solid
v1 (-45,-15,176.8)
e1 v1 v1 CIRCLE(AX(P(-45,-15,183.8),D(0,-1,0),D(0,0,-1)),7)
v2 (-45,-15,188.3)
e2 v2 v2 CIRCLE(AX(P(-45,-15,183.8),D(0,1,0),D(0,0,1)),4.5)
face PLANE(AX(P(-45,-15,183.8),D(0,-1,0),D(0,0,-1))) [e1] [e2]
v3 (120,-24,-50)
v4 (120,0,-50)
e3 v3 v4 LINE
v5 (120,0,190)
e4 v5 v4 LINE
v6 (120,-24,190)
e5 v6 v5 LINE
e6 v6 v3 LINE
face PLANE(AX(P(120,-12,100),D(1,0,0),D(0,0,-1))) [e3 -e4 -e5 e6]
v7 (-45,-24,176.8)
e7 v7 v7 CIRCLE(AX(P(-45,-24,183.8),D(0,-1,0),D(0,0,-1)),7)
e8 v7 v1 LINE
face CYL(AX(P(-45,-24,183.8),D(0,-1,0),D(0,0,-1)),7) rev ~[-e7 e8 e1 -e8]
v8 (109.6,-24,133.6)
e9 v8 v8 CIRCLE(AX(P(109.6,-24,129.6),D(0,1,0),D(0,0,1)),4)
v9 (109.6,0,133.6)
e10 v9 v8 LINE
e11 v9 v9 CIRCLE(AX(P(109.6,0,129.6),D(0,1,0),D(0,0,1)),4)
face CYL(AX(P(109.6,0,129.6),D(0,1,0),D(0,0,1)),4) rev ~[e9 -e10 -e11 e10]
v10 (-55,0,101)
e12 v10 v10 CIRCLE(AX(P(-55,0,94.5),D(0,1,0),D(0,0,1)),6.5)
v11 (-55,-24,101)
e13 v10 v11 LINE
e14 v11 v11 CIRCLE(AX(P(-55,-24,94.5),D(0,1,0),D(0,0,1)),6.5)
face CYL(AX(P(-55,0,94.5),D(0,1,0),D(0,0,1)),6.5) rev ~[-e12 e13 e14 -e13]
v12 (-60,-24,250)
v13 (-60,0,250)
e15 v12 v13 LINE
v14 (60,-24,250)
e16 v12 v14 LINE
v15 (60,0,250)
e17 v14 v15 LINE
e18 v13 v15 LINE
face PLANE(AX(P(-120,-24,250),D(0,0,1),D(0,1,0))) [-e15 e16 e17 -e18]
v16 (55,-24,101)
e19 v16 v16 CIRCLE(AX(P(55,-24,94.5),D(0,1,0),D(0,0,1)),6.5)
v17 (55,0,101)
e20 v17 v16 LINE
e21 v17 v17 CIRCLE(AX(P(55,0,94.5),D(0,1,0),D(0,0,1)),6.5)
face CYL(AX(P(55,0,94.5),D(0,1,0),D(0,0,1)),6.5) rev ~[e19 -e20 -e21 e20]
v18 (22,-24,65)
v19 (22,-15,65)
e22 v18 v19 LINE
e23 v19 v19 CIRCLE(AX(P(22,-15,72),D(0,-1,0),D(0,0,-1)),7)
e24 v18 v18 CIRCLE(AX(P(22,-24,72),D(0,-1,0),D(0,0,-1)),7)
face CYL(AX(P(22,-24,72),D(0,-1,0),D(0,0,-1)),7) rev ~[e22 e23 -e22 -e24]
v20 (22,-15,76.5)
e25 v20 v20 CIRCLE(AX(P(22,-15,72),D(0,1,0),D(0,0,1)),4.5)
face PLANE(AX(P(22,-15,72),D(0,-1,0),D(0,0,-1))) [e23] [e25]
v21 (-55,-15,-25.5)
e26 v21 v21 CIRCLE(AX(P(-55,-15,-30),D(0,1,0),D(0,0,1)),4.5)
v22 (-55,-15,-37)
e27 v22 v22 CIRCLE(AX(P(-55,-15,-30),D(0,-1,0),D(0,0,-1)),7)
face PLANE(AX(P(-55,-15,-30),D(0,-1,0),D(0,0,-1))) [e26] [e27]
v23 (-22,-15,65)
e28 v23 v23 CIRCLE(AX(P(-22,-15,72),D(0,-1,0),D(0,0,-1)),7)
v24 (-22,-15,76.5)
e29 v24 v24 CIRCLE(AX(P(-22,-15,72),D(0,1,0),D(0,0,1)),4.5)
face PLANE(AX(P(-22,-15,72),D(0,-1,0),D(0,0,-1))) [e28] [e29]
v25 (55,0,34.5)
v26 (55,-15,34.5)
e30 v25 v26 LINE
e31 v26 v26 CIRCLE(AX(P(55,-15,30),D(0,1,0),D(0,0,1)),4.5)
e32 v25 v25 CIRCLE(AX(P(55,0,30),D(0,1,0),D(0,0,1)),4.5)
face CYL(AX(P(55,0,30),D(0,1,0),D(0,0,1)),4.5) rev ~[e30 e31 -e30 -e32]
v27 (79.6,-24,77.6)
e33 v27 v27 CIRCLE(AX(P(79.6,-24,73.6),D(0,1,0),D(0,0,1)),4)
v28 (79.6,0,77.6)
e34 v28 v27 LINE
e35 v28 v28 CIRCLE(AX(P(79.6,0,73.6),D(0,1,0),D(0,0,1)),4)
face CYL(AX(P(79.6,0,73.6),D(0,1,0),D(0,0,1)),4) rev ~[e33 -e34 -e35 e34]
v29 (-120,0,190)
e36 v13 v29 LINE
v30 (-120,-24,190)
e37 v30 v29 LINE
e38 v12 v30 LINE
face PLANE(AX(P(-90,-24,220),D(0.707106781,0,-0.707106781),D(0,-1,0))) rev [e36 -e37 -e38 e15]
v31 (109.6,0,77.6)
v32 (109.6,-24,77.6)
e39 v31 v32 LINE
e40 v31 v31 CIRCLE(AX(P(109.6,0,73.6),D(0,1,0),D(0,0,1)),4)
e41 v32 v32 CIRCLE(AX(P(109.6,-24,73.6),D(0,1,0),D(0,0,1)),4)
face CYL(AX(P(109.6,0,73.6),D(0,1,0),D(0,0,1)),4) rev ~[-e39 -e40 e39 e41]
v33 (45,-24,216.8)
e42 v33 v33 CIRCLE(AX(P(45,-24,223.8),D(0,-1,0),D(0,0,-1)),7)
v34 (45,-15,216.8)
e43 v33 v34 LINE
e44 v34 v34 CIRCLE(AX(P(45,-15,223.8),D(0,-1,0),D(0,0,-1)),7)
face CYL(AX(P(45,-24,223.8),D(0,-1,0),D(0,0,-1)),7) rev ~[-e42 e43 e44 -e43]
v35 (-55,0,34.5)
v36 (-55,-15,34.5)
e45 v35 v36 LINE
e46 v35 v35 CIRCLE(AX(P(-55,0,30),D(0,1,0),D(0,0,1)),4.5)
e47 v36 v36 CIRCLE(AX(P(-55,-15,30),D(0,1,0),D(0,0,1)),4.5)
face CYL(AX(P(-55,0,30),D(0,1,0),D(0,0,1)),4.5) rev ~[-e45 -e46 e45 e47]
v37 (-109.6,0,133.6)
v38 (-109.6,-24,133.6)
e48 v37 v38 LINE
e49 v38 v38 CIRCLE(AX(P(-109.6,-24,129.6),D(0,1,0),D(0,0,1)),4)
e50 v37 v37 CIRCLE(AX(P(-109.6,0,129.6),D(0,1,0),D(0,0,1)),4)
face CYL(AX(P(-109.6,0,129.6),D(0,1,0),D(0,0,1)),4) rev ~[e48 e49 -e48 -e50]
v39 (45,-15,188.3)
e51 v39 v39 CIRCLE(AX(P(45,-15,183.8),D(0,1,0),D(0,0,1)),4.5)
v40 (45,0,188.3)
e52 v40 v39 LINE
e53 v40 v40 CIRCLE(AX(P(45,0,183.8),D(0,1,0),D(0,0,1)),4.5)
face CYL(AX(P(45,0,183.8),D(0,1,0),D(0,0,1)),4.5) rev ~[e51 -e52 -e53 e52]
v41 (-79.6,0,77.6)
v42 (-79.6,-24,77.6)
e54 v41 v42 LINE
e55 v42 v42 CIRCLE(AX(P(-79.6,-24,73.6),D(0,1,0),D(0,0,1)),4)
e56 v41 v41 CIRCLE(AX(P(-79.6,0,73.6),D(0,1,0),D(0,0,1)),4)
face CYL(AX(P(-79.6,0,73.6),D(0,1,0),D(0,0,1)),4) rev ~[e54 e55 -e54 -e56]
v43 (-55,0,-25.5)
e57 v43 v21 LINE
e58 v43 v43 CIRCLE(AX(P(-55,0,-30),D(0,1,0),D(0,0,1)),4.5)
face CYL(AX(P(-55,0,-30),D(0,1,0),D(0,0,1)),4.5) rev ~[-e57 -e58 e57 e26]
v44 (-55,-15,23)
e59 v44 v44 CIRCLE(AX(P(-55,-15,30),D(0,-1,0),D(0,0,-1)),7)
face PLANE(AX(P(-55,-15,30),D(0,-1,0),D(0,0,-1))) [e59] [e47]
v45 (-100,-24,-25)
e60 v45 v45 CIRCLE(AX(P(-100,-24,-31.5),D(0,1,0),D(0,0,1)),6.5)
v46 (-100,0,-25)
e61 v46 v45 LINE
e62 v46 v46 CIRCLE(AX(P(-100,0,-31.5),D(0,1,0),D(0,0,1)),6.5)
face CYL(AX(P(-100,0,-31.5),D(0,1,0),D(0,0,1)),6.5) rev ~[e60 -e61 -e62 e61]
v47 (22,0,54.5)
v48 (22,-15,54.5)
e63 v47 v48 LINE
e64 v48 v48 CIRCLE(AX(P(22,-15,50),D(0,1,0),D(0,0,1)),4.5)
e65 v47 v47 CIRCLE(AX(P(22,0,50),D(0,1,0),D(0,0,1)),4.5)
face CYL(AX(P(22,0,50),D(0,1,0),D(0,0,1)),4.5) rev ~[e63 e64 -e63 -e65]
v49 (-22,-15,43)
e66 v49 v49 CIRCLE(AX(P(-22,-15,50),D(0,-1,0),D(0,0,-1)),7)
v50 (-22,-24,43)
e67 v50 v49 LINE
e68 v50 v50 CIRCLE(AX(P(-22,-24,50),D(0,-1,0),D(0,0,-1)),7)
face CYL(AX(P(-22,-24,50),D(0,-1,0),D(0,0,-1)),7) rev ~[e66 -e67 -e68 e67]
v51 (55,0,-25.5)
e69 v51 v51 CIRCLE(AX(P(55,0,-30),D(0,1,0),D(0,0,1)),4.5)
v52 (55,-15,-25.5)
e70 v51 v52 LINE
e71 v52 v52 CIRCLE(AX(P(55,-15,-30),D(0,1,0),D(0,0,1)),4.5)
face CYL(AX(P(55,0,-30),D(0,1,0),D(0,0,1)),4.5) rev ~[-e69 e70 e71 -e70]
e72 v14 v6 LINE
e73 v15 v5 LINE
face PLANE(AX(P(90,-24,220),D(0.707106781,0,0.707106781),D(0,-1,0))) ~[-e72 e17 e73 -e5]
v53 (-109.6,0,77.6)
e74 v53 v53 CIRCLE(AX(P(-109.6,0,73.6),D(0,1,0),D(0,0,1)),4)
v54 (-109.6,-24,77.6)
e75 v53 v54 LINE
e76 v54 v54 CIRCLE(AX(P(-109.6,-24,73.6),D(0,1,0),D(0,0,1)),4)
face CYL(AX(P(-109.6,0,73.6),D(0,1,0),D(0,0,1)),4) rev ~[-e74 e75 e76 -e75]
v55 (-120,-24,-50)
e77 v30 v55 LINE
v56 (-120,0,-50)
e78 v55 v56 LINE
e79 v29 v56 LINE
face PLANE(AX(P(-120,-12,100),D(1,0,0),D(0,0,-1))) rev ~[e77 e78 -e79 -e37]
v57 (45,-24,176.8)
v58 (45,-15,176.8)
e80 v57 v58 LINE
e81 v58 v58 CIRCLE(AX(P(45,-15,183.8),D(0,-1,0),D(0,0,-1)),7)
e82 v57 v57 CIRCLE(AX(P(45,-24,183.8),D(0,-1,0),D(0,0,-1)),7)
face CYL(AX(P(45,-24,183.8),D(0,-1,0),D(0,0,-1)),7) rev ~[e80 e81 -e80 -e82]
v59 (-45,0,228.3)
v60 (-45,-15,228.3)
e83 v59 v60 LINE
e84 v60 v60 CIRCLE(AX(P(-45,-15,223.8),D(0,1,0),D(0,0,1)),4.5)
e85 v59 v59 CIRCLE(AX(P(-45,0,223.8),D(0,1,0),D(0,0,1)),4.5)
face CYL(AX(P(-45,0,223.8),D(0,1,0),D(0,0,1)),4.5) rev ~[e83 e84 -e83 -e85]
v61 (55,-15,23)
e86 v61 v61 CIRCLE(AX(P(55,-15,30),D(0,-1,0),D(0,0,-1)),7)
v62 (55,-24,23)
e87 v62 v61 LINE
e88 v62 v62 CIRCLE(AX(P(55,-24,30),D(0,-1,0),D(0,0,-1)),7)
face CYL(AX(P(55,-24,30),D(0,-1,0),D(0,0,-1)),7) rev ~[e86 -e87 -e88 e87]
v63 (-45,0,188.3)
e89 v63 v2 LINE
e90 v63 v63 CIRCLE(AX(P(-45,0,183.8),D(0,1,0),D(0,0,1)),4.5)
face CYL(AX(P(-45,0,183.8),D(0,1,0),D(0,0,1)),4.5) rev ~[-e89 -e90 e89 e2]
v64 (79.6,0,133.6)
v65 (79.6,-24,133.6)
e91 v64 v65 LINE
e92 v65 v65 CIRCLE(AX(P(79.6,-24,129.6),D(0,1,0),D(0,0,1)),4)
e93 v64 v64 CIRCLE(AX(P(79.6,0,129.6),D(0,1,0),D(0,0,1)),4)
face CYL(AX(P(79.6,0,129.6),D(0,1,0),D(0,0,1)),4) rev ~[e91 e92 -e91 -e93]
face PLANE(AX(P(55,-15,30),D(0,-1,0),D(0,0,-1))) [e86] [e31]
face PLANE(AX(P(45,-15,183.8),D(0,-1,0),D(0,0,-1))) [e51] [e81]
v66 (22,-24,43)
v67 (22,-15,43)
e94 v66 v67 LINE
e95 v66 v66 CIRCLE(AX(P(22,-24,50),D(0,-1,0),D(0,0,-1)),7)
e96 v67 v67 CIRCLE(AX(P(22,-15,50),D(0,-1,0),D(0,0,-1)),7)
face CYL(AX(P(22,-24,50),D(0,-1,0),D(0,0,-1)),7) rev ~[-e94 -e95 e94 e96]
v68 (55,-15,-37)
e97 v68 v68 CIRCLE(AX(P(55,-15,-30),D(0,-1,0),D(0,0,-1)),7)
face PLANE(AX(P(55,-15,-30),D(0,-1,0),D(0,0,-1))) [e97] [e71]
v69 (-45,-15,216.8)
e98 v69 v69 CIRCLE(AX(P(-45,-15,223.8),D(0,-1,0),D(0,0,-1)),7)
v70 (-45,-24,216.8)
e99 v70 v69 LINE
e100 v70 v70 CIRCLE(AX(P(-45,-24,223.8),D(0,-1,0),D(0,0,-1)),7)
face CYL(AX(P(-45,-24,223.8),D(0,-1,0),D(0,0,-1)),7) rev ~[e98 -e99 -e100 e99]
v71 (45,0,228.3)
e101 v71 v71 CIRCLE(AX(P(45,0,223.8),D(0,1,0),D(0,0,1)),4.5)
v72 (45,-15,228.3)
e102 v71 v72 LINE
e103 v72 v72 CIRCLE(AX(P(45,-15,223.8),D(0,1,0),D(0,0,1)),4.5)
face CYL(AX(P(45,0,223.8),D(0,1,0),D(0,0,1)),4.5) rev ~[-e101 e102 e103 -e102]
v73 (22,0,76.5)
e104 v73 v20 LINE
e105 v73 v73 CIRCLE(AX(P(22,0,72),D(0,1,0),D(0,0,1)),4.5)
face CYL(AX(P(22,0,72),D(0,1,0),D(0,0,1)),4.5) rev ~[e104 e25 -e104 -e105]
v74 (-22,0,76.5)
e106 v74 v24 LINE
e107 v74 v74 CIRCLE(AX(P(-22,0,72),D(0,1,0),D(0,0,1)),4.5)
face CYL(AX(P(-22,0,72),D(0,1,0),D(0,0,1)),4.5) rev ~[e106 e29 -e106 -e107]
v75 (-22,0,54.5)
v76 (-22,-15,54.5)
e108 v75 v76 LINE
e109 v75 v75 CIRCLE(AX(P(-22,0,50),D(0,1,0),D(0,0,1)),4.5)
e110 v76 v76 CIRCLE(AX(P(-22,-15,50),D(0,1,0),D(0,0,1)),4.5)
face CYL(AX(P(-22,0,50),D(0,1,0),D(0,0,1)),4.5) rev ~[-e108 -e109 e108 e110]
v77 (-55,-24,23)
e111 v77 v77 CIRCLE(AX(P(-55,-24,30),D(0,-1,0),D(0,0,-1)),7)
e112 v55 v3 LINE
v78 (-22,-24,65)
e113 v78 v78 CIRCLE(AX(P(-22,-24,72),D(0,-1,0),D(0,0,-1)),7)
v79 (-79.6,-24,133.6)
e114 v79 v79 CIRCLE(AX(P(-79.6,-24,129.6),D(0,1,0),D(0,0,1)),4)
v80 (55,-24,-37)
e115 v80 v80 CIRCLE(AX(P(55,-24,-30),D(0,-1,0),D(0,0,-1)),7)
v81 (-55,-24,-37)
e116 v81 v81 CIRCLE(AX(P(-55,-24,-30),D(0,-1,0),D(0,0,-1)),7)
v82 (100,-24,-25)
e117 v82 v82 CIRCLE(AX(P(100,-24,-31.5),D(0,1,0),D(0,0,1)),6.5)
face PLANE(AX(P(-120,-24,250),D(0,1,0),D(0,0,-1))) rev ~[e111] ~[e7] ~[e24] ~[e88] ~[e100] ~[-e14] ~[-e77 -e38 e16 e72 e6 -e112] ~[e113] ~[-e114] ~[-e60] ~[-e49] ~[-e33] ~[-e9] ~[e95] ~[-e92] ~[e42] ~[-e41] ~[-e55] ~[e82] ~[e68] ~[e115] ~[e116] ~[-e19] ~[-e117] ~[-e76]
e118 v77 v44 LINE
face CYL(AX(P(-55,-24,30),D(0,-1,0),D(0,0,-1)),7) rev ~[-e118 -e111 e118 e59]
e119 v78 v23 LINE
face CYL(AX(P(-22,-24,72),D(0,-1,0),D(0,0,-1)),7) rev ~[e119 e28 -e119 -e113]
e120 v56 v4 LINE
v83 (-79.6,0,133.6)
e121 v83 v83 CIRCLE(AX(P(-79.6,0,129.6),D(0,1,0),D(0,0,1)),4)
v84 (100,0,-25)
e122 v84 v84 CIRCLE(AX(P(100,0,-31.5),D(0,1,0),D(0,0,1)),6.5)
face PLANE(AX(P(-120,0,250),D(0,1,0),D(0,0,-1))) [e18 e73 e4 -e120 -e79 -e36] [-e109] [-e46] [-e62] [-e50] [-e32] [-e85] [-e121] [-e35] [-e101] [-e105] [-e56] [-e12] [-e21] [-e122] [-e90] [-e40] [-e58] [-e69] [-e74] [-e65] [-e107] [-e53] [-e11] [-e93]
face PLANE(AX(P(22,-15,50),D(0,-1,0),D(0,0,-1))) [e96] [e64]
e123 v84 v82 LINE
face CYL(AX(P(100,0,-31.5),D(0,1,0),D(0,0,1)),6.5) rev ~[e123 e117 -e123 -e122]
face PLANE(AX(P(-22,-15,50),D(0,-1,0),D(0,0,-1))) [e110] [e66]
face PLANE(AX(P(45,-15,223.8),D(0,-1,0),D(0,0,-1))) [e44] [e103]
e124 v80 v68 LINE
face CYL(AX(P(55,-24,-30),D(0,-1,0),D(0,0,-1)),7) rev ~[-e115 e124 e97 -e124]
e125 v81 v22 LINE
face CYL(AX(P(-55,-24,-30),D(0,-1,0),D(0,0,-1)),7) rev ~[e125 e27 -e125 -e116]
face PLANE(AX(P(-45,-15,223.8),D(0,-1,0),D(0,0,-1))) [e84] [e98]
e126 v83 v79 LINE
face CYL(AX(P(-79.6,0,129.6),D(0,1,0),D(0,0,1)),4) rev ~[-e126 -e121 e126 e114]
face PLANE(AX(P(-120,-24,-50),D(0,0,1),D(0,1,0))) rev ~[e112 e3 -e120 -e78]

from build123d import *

# Parameters (mm, degrees)
SALIENTE_EXTRUIR1_DEPTH      = 120
SALIENTE_EXTRUIR1_DEPTH_BACK = 120
CROQUIS1_W                   = 300
CROQUIS1_H                   = 24
CORTAR_EXTRUIR1_REACH        = 280.345
CROQUIS2_R                   = 4.5
CROQUIS3_R                   = 7
CORTAR_EXTRUIR2_DEPTH        = 9
CHAFL_N1_SIZE                = 60
CORTAR_EXTRUIR3_REACH        = 280.345
CROQUIS4_R                   = 6.5
CORTAR_EXTRUIR4_REACH        = 280.345
CROQUIS5_R                   = 4
CROQUIS6_R                   = 4.5
CORTAR_EXTRUIR5_DEPTH        = 30
CROQUIS7_R                   = 7
CORTAR_EXTRUIR6_DEPTH        = 9
CORTAR_EXTRUIR7_REACH        = 280.345
CROQUIS8_R                   = 4.5
CROQUIS9_R                   = 7
CORTAR_EXTRUIR8_DEPTH        = 9


with BuildPart() as part:
    # Croquis1 → Saliente-Extruir1 (new, two sides: drawn at the far end of the back side and taken through both)
    with BuildSketch(Plane(origin=(0, 0, 0), x_dir=(0, 0, -1), z_dir=(1, 0, 0)).offset(-SALIENTE_EXTRUIR1_DEPTH_BACK)):
        with Locations((-100, -12)):
            Rectangle(CROQUIS1_W, CROQUIS1_H)
    extrude(amount=SALIENTE_EXTRUIR1_DEPTH + SALIENTE_EXTRUIR1_DEPTH_BACK)

    # Croquis2 → Cortar-Extruir1 (cut, up to next)
    with BuildSketch(Plane(origin=(0, 0, 0), x_dir=(1, 0, 0), z_dir=(0, 1, 0)), mode=Mode.PRIVATE) as cortar_extruir1_sk1:
        with Locations((45, -183.8)):
            Circle(CROQUIS2_R)
    cortar_extruir1_tool1 = extrude(cortar_extruir1_sk1.sketch, amount=-CORTAR_EXTRUIR1_REACH, mode=Mode.PRIVATE) & part.part
    # Croquis2 → Cortar-Extruir1 (cut, up to next)
    with BuildSketch(Plane(origin=(0, 0, 0), x_dir=(1, 0, 0), z_dir=(0, 1, 0)), mode=Mode.PRIVATE) as cortar_extruir1_sk2:
        with Locations((45, -223.8)):
            Circle(CROQUIS2_R)
    cortar_extruir1_tool2 = extrude(cortar_extruir1_sk2.sketch, amount=-CORTAR_EXTRUIR1_REACH, mode=Mode.PRIVATE) & part.part
    # Croquis2 → Cortar-Extruir1 (cut, up to next)
    with BuildSketch(Plane(origin=(0, 0, 0), x_dir=(1, 0, 0), z_dir=(0, 1, 0)), mode=Mode.PRIVATE) as cortar_extruir1_sk3:
        with Locations((-45, -183.8)):
            Circle(CROQUIS2_R)
    cortar_extruir1_tool3 = extrude(cortar_extruir1_sk3.sketch, amount=-CORTAR_EXTRUIR1_REACH, mode=Mode.PRIVATE) & part.part
    # Croquis2 → Cortar-Extruir1 (cut, up to next)
    with BuildSketch(Plane(origin=(0, 0, 0), x_dir=(1, 0, 0), z_dir=(0, 1, 0)), mode=Mode.PRIVATE) as cortar_extruir1_sk4:
        with Locations((-45, -223.8)):
            Circle(CROQUIS2_R)
    cortar_extruir1_tool4 = extrude(cortar_extruir1_sk4.sketch, amount=-CORTAR_EXTRUIR1_REACH, mode=Mode.PRIVATE) & part.part
    add(cortar_extruir1_tool1.solids().sort_by_distance((45, 0, 183.8))[0], mode=Mode.SUBTRACT)
    add(cortar_extruir1_tool2.solids().sort_by_distance((45, 0, 223.8))[0], mode=Mode.SUBTRACT)
    add(cortar_extruir1_tool3.solids().sort_by_distance((-45, 0, 183.8))[0], mode=Mode.SUBTRACT)
    add(cortar_extruir1_tool4.solids().sort_by_distance((-45, 0, 223.8))[0], mode=Mode.SUBTRACT)

    # Croquis3 → Cortar-Extruir2 (cut)
    with BuildSketch(Plane.XZ.offset(24)):
        with Locations((-45, 223.8)):
            Circle(CROQUIS3_R)
        with Locations((-45, 183.8)):
            Circle(CROQUIS3_R)
        with Locations((45, 223.8)):
            Circle(CROQUIS3_R)
        with Locations((45, 183.8)):
            Circle(CROQUIS3_R)
    extrude(amount=-CORTAR_EXTRUIR2_DEPTH, mode=Mode.SUBTRACT)

    # Chaflán1
    chafl_n1_edges = [part.edges().sort_by_distance(p)[0] for p in [
        (120, -12, 250),
        (-120, -12, 250),
    ]]
    chamfer(chafl_n1_edges, length=CHAFL_N1_SIZE)

    # Croquis4 → Cortar-Extruir3 (cut, up to next)
    with BuildSketch(Plane(origin=(0, 0, 0), x_dir=(1, 0, 0), z_dir=(0, 1, 0)), mode=Mode.PRIVATE) as cortar_extruir3_sk1:
        with Locations((100, 31.5)):
            Circle(CROQUIS4_R)
    cortar_extruir3_tool1 = extrude(cortar_extruir3_sk1.sketch, amount=-CORTAR_EXTRUIR3_REACH, mode=Mode.PRIVATE) & part.part
    # Croquis4 → Cortar-Extruir3 (cut, up to next)
    with BuildSketch(Plane(origin=(0, 0, 0), x_dir=(1, 0, 0), z_dir=(0, 1, 0)), mode=Mode.PRIVATE) as cortar_extruir3_sk2:
        with Locations((-100, 31.5)):
            Circle(CROQUIS4_R)
    cortar_extruir3_tool2 = extrude(cortar_extruir3_sk2.sketch, amount=-CORTAR_EXTRUIR3_REACH, mode=Mode.PRIVATE) & part.part
    # Croquis4 → Cortar-Extruir3 (cut, up to next)
    with BuildSketch(Plane(origin=(0, 0, 0), x_dir=(1, 0, 0), z_dir=(0, 1, 0)), mode=Mode.PRIVATE) as cortar_extruir3_sk3:
        with Locations((55, -94.5)):
            Circle(CROQUIS4_R)
    cortar_extruir3_tool3 = extrude(cortar_extruir3_sk3.sketch, amount=-CORTAR_EXTRUIR3_REACH, mode=Mode.PRIVATE) & part.part
    # Croquis4 → Cortar-Extruir3 (cut, up to next)
    with BuildSketch(Plane(origin=(0, 0, 0), x_dir=(1, 0, 0), z_dir=(0, 1, 0)), mode=Mode.PRIVATE) as cortar_extruir3_sk4:
        with Locations((-55, -94.5)):
            Circle(CROQUIS4_R)
    cortar_extruir3_tool4 = extrude(cortar_extruir3_sk4.sketch, amount=-CORTAR_EXTRUIR3_REACH, mode=Mode.PRIVATE) & part.part
    add(cortar_extruir3_tool1.solids().sort_by_distance((100, 0, -31.5))[0], mode=Mode.SUBTRACT)
    add(cortar_extruir3_tool2.solids().sort_by_distance((-100, 0, -31.5))[0], mode=Mode.SUBTRACT)
    add(cortar_extruir3_tool3.solids().sort_by_distance((55, 0, 94.5))[0], mode=Mode.SUBTRACT)
    add(cortar_extruir3_tool4.solids().sort_by_distance((-55, 0, 94.5))[0], mode=Mode.SUBTRACT)

    # Croquis5 → Cortar-Extruir4 (cut, up to next)
    with BuildSketch(Plane(origin=(0, 0, 0), x_dir=(1, 0, 0), z_dir=(0, 1, 0)), mode=Mode.PRIVATE) as cortar_extruir4_sk1:
        with Locations((79.6, -129.6)):
            Circle(CROQUIS5_R)
    cortar_extruir4_tool1 = extrude(cortar_extruir4_sk1.sketch, amount=-CORTAR_EXTRUIR4_REACH, mode=Mode.PRIVATE) & part.part
    # Croquis5 → Cortar-Extruir4 (cut, up to next)
    with BuildSketch(Plane(origin=(0, 0, 0), x_dir=(1, 0, 0), z_dir=(0, 1, 0)), mode=Mode.PRIVATE) as cortar_extruir4_sk2:
        with Locations((109.6, -129.6)):
            Circle(CROQUIS5_R)
    cortar_extruir4_tool2 = extrude(cortar_extruir4_sk2.sketch, amount=-CORTAR_EXTRUIR4_REACH, mode=Mode.PRIVATE) & part.part
    # Croquis5 → Cortar-Extruir4 (cut, up to next)
    with BuildSketch(Plane(origin=(0, 0, 0), x_dir=(1, 0, 0), z_dir=(0, 1, 0)), mode=Mode.PRIVATE) as cortar_extruir4_sk3:
        with Locations((109.6, -73.6)):
            Circle(CROQUIS5_R)
    cortar_extruir4_tool3 = extrude(cortar_extruir4_sk3.sketch, amount=-CORTAR_EXTRUIR4_REACH, mode=Mode.PRIVATE) & part.part
    # Croquis5 → Cortar-Extruir4 (cut, up to next)
    with BuildSketch(Plane(origin=(0, 0, 0), x_dir=(1, 0, 0), z_dir=(0, 1, 0)), mode=Mode.PRIVATE) as cortar_extruir4_sk4:
        with Locations((79.6, -73.6)):
            Circle(CROQUIS5_R)
    cortar_extruir4_tool4 = extrude(cortar_extruir4_sk4.sketch, amount=-CORTAR_EXTRUIR4_REACH, mode=Mode.PRIVATE) & part.part
    # Croquis5 → Cortar-Extruir4 (cut, up to next)
    with BuildSketch(Plane(origin=(0, 0, 0), x_dir=(1, 0, 0), z_dir=(0, 1, 0)), mode=Mode.PRIVATE) as cortar_extruir4_sk5:
        with Locations((-109.6, -129.6)):
            Circle(CROQUIS5_R)
    cortar_extruir4_tool5 = extrude(cortar_extruir4_sk5.sketch, amount=-CORTAR_EXTRUIR4_REACH, mode=Mode.PRIVATE) & part.part
    # Croquis5 → Cortar-Extruir4 (cut, up to next)
    with BuildSketch(Plane(origin=(0, 0, 0), x_dir=(1, 0, 0), z_dir=(0, 1, 0)), mode=Mode.PRIVATE) as cortar_extruir4_sk6:
        with Locations((-79.6, -129.6)):
            Circle(CROQUIS5_R)
    cortar_extruir4_tool6 = extrude(cortar_extruir4_sk6.sketch, amount=-CORTAR_EXTRUIR4_REACH, mode=Mode.PRIVATE) & part.part
    # Croquis5 → Cortar-Extruir4 (cut, up to next)
    with BuildSketch(Plane(origin=(0, 0, 0), x_dir=(1, 0, 0), z_dir=(0, 1, 0)), mode=Mode.PRIVATE) as cortar_extruir4_sk7:
        with Locations((-109.6, -73.6)):
            Circle(CROQUIS5_R)
    cortar_extruir4_tool7 = extrude(cortar_extruir4_sk7.sketch, amount=-CORTAR_EXTRUIR4_REACH, mode=Mode.PRIVATE) & part.part
    # Croquis5 → Cortar-Extruir4 (cut, up to next)
    with BuildSketch(Plane(origin=(0, 0, 0), x_dir=(1, 0, 0), z_dir=(0, 1, 0)), mode=Mode.PRIVATE) as cortar_extruir4_sk8:
        with Locations((-79.6, -73.6)):
            Circle(CROQUIS5_R)
    cortar_extruir4_tool8 = extrude(cortar_extruir4_sk8.sketch, amount=-CORTAR_EXTRUIR4_REACH, mode=Mode.PRIVATE) & part.part
    add(cortar_extruir4_tool1.solids().sort_by_distance((79.6, 0, 129.6))[0], mode=Mode.SUBTRACT)
    add(cortar_extruir4_tool2.solids().sort_by_distance((109.6, 0, 129.6))[0], mode=Mode.SUBTRACT)
    add(cortar_extruir4_tool3.solids().sort_by_distance((109.6, 0, 73.6))[0], mode=Mode.SUBTRACT)
    add(cortar_extruir4_tool4.solids().sort_by_distance((79.6, 0, 73.6))[0], mode=Mode.SUBTRACT)
    add(cortar_extruir4_tool5.solids().sort_by_distance((-109.6, 0, 129.6))[0], mode=Mode.SUBTRACT)
    add(cortar_extruir4_tool6.solids().sort_by_distance((-79.6, 0, 129.6))[0], mode=Mode.SUBTRACT)
    add(cortar_extruir4_tool7.solids().sort_by_distance((-109.6, 0, 73.6))[0], mode=Mode.SUBTRACT)
    add(cortar_extruir4_tool8.solids().sort_by_distance((-79.6, 0, 73.6))[0], mode=Mode.SUBTRACT)

    # Croquis6 → Cortar-Extruir5 (cut)
    with BuildSketch(Plane(origin=(0, 0, 0), x_dir=(1, 0, 0), z_dir=(0, 1, 0))):
        with Locations((-55, -30)):
            Circle(CROQUIS6_R)
        with Locations((-55, 30)):
            Circle(CROQUIS6_R)
        with Locations((55, 30)):
            Circle(CROQUIS6_R)
        with Locations((55, -30)):
            Circle(CROQUIS6_R)
    extrude(amount=-CORTAR_EXTRUIR5_DEPTH, mode=Mode.SUBTRACT)

    # Croquis7 → Cortar-Extruir6 (cut)
    with BuildSketch(Plane.XZ.offset(24)):
        with Locations((55, 30)):
            Circle(CROQUIS7_R)
        with Locations((55, -30)):
            Circle(CROQUIS7_R)
        with Locations((-55, 30)):
            Circle(CROQUIS7_R)
        with Locations((-55, -30)):
            Circle(CROQUIS7_R)
    extrude(amount=-CORTAR_EXTRUIR6_DEPTH, mode=Mode.SUBTRACT)

    # Croquis8 → Cortar-Extruir7 (cut, up to next)
    with BuildSketch(Plane(origin=(0, 0, 0), x_dir=(1, 0, 0), z_dir=(0, 1, 0)), mode=Mode.PRIVATE) as cortar_extruir7_sk1:
        with Locations((-22, -50)):
            Circle(CROQUIS8_R)
    cortar_extruir7_tool1 = extrude(cortar_extruir7_sk1.sketch, amount=-CORTAR_EXTRUIR7_REACH, mode=Mode.PRIVATE) & part.part
    # Croquis8 → Cortar-Extruir7 (cut, up to next)
    with BuildSketch(Plane(origin=(0, 0, 0), x_dir=(1, 0, 0), z_dir=(0, 1, 0)), mode=Mode.PRIVATE) as cortar_extruir7_sk2:
        with Locations((-22, -72)):
            Circle(CROQUIS8_R)
    cortar_extruir7_tool2 = extrude(cortar_extruir7_sk2.sketch, amount=-CORTAR_EXTRUIR7_REACH, mode=Mode.PRIVATE) & part.part
    # Croquis8 → Cortar-Extruir7 (cut, up to next)
    with BuildSketch(Plane(origin=(0, 0, 0), x_dir=(1, 0, 0), z_dir=(0, 1, 0)), mode=Mode.PRIVATE) as cortar_extruir7_sk3:
        with Locations((22, -72)):
            Circle(CROQUIS8_R)
    cortar_extruir7_tool3 = extrude(cortar_extruir7_sk3.sketch, amount=-CORTAR_EXTRUIR7_REACH, mode=Mode.PRIVATE) & part.part
    # Croquis8 → Cortar-Extruir7 (cut, up to next)
    with BuildSketch(Plane(origin=(0, 0, 0), x_dir=(1, 0, 0), z_dir=(0, 1, 0)), mode=Mode.PRIVATE) as cortar_extruir7_sk4:
        with Locations((22, -50)):
            Circle(CROQUIS8_R)
    cortar_extruir7_tool4 = extrude(cortar_extruir7_sk4.sketch, amount=-CORTAR_EXTRUIR7_REACH, mode=Mode.PRIVATE) & part.part
    add(cortar_extruir7_tool1.solids().sort_by_distance((-22, 0, 50))[0], mode=Mode.SUBTRACT)
    add(cortar_extruir7_tool2.solids().sort_by_distance((-22, 0, 72))[0], mode=Mode.SUBTRACT)
    add(cortar_extruir7_tool3.solids().sort_by_distance((22, 0, 72))[0], mode=Mode.SUBTRACT)
    add(cortar_extruir7_tool4.solids().sort_by_distance((22, 0, 50))[0], mode=Mode.SUBTRACT)

    # Croquis9 → Cortar-Extruir8 (cut)
    with BuildSketch(Plane.XZ.offset(24)):
        with Locations((22, 50)):
            Circle(CROQUIS9_R)
        with Locations((22, 72)):
            Circle(CROQUIS9_R)
        with Locations((-22, 72)):
            Circle(CROQUIS9_R)
        with Locations((-22, 50)):
            Circle(CROQUIS9_R)
    extrude(amount=-CORTAR_EXTRUIR8_DEPTH, mode=Mode.SUBTRACT)


solid = part.part
